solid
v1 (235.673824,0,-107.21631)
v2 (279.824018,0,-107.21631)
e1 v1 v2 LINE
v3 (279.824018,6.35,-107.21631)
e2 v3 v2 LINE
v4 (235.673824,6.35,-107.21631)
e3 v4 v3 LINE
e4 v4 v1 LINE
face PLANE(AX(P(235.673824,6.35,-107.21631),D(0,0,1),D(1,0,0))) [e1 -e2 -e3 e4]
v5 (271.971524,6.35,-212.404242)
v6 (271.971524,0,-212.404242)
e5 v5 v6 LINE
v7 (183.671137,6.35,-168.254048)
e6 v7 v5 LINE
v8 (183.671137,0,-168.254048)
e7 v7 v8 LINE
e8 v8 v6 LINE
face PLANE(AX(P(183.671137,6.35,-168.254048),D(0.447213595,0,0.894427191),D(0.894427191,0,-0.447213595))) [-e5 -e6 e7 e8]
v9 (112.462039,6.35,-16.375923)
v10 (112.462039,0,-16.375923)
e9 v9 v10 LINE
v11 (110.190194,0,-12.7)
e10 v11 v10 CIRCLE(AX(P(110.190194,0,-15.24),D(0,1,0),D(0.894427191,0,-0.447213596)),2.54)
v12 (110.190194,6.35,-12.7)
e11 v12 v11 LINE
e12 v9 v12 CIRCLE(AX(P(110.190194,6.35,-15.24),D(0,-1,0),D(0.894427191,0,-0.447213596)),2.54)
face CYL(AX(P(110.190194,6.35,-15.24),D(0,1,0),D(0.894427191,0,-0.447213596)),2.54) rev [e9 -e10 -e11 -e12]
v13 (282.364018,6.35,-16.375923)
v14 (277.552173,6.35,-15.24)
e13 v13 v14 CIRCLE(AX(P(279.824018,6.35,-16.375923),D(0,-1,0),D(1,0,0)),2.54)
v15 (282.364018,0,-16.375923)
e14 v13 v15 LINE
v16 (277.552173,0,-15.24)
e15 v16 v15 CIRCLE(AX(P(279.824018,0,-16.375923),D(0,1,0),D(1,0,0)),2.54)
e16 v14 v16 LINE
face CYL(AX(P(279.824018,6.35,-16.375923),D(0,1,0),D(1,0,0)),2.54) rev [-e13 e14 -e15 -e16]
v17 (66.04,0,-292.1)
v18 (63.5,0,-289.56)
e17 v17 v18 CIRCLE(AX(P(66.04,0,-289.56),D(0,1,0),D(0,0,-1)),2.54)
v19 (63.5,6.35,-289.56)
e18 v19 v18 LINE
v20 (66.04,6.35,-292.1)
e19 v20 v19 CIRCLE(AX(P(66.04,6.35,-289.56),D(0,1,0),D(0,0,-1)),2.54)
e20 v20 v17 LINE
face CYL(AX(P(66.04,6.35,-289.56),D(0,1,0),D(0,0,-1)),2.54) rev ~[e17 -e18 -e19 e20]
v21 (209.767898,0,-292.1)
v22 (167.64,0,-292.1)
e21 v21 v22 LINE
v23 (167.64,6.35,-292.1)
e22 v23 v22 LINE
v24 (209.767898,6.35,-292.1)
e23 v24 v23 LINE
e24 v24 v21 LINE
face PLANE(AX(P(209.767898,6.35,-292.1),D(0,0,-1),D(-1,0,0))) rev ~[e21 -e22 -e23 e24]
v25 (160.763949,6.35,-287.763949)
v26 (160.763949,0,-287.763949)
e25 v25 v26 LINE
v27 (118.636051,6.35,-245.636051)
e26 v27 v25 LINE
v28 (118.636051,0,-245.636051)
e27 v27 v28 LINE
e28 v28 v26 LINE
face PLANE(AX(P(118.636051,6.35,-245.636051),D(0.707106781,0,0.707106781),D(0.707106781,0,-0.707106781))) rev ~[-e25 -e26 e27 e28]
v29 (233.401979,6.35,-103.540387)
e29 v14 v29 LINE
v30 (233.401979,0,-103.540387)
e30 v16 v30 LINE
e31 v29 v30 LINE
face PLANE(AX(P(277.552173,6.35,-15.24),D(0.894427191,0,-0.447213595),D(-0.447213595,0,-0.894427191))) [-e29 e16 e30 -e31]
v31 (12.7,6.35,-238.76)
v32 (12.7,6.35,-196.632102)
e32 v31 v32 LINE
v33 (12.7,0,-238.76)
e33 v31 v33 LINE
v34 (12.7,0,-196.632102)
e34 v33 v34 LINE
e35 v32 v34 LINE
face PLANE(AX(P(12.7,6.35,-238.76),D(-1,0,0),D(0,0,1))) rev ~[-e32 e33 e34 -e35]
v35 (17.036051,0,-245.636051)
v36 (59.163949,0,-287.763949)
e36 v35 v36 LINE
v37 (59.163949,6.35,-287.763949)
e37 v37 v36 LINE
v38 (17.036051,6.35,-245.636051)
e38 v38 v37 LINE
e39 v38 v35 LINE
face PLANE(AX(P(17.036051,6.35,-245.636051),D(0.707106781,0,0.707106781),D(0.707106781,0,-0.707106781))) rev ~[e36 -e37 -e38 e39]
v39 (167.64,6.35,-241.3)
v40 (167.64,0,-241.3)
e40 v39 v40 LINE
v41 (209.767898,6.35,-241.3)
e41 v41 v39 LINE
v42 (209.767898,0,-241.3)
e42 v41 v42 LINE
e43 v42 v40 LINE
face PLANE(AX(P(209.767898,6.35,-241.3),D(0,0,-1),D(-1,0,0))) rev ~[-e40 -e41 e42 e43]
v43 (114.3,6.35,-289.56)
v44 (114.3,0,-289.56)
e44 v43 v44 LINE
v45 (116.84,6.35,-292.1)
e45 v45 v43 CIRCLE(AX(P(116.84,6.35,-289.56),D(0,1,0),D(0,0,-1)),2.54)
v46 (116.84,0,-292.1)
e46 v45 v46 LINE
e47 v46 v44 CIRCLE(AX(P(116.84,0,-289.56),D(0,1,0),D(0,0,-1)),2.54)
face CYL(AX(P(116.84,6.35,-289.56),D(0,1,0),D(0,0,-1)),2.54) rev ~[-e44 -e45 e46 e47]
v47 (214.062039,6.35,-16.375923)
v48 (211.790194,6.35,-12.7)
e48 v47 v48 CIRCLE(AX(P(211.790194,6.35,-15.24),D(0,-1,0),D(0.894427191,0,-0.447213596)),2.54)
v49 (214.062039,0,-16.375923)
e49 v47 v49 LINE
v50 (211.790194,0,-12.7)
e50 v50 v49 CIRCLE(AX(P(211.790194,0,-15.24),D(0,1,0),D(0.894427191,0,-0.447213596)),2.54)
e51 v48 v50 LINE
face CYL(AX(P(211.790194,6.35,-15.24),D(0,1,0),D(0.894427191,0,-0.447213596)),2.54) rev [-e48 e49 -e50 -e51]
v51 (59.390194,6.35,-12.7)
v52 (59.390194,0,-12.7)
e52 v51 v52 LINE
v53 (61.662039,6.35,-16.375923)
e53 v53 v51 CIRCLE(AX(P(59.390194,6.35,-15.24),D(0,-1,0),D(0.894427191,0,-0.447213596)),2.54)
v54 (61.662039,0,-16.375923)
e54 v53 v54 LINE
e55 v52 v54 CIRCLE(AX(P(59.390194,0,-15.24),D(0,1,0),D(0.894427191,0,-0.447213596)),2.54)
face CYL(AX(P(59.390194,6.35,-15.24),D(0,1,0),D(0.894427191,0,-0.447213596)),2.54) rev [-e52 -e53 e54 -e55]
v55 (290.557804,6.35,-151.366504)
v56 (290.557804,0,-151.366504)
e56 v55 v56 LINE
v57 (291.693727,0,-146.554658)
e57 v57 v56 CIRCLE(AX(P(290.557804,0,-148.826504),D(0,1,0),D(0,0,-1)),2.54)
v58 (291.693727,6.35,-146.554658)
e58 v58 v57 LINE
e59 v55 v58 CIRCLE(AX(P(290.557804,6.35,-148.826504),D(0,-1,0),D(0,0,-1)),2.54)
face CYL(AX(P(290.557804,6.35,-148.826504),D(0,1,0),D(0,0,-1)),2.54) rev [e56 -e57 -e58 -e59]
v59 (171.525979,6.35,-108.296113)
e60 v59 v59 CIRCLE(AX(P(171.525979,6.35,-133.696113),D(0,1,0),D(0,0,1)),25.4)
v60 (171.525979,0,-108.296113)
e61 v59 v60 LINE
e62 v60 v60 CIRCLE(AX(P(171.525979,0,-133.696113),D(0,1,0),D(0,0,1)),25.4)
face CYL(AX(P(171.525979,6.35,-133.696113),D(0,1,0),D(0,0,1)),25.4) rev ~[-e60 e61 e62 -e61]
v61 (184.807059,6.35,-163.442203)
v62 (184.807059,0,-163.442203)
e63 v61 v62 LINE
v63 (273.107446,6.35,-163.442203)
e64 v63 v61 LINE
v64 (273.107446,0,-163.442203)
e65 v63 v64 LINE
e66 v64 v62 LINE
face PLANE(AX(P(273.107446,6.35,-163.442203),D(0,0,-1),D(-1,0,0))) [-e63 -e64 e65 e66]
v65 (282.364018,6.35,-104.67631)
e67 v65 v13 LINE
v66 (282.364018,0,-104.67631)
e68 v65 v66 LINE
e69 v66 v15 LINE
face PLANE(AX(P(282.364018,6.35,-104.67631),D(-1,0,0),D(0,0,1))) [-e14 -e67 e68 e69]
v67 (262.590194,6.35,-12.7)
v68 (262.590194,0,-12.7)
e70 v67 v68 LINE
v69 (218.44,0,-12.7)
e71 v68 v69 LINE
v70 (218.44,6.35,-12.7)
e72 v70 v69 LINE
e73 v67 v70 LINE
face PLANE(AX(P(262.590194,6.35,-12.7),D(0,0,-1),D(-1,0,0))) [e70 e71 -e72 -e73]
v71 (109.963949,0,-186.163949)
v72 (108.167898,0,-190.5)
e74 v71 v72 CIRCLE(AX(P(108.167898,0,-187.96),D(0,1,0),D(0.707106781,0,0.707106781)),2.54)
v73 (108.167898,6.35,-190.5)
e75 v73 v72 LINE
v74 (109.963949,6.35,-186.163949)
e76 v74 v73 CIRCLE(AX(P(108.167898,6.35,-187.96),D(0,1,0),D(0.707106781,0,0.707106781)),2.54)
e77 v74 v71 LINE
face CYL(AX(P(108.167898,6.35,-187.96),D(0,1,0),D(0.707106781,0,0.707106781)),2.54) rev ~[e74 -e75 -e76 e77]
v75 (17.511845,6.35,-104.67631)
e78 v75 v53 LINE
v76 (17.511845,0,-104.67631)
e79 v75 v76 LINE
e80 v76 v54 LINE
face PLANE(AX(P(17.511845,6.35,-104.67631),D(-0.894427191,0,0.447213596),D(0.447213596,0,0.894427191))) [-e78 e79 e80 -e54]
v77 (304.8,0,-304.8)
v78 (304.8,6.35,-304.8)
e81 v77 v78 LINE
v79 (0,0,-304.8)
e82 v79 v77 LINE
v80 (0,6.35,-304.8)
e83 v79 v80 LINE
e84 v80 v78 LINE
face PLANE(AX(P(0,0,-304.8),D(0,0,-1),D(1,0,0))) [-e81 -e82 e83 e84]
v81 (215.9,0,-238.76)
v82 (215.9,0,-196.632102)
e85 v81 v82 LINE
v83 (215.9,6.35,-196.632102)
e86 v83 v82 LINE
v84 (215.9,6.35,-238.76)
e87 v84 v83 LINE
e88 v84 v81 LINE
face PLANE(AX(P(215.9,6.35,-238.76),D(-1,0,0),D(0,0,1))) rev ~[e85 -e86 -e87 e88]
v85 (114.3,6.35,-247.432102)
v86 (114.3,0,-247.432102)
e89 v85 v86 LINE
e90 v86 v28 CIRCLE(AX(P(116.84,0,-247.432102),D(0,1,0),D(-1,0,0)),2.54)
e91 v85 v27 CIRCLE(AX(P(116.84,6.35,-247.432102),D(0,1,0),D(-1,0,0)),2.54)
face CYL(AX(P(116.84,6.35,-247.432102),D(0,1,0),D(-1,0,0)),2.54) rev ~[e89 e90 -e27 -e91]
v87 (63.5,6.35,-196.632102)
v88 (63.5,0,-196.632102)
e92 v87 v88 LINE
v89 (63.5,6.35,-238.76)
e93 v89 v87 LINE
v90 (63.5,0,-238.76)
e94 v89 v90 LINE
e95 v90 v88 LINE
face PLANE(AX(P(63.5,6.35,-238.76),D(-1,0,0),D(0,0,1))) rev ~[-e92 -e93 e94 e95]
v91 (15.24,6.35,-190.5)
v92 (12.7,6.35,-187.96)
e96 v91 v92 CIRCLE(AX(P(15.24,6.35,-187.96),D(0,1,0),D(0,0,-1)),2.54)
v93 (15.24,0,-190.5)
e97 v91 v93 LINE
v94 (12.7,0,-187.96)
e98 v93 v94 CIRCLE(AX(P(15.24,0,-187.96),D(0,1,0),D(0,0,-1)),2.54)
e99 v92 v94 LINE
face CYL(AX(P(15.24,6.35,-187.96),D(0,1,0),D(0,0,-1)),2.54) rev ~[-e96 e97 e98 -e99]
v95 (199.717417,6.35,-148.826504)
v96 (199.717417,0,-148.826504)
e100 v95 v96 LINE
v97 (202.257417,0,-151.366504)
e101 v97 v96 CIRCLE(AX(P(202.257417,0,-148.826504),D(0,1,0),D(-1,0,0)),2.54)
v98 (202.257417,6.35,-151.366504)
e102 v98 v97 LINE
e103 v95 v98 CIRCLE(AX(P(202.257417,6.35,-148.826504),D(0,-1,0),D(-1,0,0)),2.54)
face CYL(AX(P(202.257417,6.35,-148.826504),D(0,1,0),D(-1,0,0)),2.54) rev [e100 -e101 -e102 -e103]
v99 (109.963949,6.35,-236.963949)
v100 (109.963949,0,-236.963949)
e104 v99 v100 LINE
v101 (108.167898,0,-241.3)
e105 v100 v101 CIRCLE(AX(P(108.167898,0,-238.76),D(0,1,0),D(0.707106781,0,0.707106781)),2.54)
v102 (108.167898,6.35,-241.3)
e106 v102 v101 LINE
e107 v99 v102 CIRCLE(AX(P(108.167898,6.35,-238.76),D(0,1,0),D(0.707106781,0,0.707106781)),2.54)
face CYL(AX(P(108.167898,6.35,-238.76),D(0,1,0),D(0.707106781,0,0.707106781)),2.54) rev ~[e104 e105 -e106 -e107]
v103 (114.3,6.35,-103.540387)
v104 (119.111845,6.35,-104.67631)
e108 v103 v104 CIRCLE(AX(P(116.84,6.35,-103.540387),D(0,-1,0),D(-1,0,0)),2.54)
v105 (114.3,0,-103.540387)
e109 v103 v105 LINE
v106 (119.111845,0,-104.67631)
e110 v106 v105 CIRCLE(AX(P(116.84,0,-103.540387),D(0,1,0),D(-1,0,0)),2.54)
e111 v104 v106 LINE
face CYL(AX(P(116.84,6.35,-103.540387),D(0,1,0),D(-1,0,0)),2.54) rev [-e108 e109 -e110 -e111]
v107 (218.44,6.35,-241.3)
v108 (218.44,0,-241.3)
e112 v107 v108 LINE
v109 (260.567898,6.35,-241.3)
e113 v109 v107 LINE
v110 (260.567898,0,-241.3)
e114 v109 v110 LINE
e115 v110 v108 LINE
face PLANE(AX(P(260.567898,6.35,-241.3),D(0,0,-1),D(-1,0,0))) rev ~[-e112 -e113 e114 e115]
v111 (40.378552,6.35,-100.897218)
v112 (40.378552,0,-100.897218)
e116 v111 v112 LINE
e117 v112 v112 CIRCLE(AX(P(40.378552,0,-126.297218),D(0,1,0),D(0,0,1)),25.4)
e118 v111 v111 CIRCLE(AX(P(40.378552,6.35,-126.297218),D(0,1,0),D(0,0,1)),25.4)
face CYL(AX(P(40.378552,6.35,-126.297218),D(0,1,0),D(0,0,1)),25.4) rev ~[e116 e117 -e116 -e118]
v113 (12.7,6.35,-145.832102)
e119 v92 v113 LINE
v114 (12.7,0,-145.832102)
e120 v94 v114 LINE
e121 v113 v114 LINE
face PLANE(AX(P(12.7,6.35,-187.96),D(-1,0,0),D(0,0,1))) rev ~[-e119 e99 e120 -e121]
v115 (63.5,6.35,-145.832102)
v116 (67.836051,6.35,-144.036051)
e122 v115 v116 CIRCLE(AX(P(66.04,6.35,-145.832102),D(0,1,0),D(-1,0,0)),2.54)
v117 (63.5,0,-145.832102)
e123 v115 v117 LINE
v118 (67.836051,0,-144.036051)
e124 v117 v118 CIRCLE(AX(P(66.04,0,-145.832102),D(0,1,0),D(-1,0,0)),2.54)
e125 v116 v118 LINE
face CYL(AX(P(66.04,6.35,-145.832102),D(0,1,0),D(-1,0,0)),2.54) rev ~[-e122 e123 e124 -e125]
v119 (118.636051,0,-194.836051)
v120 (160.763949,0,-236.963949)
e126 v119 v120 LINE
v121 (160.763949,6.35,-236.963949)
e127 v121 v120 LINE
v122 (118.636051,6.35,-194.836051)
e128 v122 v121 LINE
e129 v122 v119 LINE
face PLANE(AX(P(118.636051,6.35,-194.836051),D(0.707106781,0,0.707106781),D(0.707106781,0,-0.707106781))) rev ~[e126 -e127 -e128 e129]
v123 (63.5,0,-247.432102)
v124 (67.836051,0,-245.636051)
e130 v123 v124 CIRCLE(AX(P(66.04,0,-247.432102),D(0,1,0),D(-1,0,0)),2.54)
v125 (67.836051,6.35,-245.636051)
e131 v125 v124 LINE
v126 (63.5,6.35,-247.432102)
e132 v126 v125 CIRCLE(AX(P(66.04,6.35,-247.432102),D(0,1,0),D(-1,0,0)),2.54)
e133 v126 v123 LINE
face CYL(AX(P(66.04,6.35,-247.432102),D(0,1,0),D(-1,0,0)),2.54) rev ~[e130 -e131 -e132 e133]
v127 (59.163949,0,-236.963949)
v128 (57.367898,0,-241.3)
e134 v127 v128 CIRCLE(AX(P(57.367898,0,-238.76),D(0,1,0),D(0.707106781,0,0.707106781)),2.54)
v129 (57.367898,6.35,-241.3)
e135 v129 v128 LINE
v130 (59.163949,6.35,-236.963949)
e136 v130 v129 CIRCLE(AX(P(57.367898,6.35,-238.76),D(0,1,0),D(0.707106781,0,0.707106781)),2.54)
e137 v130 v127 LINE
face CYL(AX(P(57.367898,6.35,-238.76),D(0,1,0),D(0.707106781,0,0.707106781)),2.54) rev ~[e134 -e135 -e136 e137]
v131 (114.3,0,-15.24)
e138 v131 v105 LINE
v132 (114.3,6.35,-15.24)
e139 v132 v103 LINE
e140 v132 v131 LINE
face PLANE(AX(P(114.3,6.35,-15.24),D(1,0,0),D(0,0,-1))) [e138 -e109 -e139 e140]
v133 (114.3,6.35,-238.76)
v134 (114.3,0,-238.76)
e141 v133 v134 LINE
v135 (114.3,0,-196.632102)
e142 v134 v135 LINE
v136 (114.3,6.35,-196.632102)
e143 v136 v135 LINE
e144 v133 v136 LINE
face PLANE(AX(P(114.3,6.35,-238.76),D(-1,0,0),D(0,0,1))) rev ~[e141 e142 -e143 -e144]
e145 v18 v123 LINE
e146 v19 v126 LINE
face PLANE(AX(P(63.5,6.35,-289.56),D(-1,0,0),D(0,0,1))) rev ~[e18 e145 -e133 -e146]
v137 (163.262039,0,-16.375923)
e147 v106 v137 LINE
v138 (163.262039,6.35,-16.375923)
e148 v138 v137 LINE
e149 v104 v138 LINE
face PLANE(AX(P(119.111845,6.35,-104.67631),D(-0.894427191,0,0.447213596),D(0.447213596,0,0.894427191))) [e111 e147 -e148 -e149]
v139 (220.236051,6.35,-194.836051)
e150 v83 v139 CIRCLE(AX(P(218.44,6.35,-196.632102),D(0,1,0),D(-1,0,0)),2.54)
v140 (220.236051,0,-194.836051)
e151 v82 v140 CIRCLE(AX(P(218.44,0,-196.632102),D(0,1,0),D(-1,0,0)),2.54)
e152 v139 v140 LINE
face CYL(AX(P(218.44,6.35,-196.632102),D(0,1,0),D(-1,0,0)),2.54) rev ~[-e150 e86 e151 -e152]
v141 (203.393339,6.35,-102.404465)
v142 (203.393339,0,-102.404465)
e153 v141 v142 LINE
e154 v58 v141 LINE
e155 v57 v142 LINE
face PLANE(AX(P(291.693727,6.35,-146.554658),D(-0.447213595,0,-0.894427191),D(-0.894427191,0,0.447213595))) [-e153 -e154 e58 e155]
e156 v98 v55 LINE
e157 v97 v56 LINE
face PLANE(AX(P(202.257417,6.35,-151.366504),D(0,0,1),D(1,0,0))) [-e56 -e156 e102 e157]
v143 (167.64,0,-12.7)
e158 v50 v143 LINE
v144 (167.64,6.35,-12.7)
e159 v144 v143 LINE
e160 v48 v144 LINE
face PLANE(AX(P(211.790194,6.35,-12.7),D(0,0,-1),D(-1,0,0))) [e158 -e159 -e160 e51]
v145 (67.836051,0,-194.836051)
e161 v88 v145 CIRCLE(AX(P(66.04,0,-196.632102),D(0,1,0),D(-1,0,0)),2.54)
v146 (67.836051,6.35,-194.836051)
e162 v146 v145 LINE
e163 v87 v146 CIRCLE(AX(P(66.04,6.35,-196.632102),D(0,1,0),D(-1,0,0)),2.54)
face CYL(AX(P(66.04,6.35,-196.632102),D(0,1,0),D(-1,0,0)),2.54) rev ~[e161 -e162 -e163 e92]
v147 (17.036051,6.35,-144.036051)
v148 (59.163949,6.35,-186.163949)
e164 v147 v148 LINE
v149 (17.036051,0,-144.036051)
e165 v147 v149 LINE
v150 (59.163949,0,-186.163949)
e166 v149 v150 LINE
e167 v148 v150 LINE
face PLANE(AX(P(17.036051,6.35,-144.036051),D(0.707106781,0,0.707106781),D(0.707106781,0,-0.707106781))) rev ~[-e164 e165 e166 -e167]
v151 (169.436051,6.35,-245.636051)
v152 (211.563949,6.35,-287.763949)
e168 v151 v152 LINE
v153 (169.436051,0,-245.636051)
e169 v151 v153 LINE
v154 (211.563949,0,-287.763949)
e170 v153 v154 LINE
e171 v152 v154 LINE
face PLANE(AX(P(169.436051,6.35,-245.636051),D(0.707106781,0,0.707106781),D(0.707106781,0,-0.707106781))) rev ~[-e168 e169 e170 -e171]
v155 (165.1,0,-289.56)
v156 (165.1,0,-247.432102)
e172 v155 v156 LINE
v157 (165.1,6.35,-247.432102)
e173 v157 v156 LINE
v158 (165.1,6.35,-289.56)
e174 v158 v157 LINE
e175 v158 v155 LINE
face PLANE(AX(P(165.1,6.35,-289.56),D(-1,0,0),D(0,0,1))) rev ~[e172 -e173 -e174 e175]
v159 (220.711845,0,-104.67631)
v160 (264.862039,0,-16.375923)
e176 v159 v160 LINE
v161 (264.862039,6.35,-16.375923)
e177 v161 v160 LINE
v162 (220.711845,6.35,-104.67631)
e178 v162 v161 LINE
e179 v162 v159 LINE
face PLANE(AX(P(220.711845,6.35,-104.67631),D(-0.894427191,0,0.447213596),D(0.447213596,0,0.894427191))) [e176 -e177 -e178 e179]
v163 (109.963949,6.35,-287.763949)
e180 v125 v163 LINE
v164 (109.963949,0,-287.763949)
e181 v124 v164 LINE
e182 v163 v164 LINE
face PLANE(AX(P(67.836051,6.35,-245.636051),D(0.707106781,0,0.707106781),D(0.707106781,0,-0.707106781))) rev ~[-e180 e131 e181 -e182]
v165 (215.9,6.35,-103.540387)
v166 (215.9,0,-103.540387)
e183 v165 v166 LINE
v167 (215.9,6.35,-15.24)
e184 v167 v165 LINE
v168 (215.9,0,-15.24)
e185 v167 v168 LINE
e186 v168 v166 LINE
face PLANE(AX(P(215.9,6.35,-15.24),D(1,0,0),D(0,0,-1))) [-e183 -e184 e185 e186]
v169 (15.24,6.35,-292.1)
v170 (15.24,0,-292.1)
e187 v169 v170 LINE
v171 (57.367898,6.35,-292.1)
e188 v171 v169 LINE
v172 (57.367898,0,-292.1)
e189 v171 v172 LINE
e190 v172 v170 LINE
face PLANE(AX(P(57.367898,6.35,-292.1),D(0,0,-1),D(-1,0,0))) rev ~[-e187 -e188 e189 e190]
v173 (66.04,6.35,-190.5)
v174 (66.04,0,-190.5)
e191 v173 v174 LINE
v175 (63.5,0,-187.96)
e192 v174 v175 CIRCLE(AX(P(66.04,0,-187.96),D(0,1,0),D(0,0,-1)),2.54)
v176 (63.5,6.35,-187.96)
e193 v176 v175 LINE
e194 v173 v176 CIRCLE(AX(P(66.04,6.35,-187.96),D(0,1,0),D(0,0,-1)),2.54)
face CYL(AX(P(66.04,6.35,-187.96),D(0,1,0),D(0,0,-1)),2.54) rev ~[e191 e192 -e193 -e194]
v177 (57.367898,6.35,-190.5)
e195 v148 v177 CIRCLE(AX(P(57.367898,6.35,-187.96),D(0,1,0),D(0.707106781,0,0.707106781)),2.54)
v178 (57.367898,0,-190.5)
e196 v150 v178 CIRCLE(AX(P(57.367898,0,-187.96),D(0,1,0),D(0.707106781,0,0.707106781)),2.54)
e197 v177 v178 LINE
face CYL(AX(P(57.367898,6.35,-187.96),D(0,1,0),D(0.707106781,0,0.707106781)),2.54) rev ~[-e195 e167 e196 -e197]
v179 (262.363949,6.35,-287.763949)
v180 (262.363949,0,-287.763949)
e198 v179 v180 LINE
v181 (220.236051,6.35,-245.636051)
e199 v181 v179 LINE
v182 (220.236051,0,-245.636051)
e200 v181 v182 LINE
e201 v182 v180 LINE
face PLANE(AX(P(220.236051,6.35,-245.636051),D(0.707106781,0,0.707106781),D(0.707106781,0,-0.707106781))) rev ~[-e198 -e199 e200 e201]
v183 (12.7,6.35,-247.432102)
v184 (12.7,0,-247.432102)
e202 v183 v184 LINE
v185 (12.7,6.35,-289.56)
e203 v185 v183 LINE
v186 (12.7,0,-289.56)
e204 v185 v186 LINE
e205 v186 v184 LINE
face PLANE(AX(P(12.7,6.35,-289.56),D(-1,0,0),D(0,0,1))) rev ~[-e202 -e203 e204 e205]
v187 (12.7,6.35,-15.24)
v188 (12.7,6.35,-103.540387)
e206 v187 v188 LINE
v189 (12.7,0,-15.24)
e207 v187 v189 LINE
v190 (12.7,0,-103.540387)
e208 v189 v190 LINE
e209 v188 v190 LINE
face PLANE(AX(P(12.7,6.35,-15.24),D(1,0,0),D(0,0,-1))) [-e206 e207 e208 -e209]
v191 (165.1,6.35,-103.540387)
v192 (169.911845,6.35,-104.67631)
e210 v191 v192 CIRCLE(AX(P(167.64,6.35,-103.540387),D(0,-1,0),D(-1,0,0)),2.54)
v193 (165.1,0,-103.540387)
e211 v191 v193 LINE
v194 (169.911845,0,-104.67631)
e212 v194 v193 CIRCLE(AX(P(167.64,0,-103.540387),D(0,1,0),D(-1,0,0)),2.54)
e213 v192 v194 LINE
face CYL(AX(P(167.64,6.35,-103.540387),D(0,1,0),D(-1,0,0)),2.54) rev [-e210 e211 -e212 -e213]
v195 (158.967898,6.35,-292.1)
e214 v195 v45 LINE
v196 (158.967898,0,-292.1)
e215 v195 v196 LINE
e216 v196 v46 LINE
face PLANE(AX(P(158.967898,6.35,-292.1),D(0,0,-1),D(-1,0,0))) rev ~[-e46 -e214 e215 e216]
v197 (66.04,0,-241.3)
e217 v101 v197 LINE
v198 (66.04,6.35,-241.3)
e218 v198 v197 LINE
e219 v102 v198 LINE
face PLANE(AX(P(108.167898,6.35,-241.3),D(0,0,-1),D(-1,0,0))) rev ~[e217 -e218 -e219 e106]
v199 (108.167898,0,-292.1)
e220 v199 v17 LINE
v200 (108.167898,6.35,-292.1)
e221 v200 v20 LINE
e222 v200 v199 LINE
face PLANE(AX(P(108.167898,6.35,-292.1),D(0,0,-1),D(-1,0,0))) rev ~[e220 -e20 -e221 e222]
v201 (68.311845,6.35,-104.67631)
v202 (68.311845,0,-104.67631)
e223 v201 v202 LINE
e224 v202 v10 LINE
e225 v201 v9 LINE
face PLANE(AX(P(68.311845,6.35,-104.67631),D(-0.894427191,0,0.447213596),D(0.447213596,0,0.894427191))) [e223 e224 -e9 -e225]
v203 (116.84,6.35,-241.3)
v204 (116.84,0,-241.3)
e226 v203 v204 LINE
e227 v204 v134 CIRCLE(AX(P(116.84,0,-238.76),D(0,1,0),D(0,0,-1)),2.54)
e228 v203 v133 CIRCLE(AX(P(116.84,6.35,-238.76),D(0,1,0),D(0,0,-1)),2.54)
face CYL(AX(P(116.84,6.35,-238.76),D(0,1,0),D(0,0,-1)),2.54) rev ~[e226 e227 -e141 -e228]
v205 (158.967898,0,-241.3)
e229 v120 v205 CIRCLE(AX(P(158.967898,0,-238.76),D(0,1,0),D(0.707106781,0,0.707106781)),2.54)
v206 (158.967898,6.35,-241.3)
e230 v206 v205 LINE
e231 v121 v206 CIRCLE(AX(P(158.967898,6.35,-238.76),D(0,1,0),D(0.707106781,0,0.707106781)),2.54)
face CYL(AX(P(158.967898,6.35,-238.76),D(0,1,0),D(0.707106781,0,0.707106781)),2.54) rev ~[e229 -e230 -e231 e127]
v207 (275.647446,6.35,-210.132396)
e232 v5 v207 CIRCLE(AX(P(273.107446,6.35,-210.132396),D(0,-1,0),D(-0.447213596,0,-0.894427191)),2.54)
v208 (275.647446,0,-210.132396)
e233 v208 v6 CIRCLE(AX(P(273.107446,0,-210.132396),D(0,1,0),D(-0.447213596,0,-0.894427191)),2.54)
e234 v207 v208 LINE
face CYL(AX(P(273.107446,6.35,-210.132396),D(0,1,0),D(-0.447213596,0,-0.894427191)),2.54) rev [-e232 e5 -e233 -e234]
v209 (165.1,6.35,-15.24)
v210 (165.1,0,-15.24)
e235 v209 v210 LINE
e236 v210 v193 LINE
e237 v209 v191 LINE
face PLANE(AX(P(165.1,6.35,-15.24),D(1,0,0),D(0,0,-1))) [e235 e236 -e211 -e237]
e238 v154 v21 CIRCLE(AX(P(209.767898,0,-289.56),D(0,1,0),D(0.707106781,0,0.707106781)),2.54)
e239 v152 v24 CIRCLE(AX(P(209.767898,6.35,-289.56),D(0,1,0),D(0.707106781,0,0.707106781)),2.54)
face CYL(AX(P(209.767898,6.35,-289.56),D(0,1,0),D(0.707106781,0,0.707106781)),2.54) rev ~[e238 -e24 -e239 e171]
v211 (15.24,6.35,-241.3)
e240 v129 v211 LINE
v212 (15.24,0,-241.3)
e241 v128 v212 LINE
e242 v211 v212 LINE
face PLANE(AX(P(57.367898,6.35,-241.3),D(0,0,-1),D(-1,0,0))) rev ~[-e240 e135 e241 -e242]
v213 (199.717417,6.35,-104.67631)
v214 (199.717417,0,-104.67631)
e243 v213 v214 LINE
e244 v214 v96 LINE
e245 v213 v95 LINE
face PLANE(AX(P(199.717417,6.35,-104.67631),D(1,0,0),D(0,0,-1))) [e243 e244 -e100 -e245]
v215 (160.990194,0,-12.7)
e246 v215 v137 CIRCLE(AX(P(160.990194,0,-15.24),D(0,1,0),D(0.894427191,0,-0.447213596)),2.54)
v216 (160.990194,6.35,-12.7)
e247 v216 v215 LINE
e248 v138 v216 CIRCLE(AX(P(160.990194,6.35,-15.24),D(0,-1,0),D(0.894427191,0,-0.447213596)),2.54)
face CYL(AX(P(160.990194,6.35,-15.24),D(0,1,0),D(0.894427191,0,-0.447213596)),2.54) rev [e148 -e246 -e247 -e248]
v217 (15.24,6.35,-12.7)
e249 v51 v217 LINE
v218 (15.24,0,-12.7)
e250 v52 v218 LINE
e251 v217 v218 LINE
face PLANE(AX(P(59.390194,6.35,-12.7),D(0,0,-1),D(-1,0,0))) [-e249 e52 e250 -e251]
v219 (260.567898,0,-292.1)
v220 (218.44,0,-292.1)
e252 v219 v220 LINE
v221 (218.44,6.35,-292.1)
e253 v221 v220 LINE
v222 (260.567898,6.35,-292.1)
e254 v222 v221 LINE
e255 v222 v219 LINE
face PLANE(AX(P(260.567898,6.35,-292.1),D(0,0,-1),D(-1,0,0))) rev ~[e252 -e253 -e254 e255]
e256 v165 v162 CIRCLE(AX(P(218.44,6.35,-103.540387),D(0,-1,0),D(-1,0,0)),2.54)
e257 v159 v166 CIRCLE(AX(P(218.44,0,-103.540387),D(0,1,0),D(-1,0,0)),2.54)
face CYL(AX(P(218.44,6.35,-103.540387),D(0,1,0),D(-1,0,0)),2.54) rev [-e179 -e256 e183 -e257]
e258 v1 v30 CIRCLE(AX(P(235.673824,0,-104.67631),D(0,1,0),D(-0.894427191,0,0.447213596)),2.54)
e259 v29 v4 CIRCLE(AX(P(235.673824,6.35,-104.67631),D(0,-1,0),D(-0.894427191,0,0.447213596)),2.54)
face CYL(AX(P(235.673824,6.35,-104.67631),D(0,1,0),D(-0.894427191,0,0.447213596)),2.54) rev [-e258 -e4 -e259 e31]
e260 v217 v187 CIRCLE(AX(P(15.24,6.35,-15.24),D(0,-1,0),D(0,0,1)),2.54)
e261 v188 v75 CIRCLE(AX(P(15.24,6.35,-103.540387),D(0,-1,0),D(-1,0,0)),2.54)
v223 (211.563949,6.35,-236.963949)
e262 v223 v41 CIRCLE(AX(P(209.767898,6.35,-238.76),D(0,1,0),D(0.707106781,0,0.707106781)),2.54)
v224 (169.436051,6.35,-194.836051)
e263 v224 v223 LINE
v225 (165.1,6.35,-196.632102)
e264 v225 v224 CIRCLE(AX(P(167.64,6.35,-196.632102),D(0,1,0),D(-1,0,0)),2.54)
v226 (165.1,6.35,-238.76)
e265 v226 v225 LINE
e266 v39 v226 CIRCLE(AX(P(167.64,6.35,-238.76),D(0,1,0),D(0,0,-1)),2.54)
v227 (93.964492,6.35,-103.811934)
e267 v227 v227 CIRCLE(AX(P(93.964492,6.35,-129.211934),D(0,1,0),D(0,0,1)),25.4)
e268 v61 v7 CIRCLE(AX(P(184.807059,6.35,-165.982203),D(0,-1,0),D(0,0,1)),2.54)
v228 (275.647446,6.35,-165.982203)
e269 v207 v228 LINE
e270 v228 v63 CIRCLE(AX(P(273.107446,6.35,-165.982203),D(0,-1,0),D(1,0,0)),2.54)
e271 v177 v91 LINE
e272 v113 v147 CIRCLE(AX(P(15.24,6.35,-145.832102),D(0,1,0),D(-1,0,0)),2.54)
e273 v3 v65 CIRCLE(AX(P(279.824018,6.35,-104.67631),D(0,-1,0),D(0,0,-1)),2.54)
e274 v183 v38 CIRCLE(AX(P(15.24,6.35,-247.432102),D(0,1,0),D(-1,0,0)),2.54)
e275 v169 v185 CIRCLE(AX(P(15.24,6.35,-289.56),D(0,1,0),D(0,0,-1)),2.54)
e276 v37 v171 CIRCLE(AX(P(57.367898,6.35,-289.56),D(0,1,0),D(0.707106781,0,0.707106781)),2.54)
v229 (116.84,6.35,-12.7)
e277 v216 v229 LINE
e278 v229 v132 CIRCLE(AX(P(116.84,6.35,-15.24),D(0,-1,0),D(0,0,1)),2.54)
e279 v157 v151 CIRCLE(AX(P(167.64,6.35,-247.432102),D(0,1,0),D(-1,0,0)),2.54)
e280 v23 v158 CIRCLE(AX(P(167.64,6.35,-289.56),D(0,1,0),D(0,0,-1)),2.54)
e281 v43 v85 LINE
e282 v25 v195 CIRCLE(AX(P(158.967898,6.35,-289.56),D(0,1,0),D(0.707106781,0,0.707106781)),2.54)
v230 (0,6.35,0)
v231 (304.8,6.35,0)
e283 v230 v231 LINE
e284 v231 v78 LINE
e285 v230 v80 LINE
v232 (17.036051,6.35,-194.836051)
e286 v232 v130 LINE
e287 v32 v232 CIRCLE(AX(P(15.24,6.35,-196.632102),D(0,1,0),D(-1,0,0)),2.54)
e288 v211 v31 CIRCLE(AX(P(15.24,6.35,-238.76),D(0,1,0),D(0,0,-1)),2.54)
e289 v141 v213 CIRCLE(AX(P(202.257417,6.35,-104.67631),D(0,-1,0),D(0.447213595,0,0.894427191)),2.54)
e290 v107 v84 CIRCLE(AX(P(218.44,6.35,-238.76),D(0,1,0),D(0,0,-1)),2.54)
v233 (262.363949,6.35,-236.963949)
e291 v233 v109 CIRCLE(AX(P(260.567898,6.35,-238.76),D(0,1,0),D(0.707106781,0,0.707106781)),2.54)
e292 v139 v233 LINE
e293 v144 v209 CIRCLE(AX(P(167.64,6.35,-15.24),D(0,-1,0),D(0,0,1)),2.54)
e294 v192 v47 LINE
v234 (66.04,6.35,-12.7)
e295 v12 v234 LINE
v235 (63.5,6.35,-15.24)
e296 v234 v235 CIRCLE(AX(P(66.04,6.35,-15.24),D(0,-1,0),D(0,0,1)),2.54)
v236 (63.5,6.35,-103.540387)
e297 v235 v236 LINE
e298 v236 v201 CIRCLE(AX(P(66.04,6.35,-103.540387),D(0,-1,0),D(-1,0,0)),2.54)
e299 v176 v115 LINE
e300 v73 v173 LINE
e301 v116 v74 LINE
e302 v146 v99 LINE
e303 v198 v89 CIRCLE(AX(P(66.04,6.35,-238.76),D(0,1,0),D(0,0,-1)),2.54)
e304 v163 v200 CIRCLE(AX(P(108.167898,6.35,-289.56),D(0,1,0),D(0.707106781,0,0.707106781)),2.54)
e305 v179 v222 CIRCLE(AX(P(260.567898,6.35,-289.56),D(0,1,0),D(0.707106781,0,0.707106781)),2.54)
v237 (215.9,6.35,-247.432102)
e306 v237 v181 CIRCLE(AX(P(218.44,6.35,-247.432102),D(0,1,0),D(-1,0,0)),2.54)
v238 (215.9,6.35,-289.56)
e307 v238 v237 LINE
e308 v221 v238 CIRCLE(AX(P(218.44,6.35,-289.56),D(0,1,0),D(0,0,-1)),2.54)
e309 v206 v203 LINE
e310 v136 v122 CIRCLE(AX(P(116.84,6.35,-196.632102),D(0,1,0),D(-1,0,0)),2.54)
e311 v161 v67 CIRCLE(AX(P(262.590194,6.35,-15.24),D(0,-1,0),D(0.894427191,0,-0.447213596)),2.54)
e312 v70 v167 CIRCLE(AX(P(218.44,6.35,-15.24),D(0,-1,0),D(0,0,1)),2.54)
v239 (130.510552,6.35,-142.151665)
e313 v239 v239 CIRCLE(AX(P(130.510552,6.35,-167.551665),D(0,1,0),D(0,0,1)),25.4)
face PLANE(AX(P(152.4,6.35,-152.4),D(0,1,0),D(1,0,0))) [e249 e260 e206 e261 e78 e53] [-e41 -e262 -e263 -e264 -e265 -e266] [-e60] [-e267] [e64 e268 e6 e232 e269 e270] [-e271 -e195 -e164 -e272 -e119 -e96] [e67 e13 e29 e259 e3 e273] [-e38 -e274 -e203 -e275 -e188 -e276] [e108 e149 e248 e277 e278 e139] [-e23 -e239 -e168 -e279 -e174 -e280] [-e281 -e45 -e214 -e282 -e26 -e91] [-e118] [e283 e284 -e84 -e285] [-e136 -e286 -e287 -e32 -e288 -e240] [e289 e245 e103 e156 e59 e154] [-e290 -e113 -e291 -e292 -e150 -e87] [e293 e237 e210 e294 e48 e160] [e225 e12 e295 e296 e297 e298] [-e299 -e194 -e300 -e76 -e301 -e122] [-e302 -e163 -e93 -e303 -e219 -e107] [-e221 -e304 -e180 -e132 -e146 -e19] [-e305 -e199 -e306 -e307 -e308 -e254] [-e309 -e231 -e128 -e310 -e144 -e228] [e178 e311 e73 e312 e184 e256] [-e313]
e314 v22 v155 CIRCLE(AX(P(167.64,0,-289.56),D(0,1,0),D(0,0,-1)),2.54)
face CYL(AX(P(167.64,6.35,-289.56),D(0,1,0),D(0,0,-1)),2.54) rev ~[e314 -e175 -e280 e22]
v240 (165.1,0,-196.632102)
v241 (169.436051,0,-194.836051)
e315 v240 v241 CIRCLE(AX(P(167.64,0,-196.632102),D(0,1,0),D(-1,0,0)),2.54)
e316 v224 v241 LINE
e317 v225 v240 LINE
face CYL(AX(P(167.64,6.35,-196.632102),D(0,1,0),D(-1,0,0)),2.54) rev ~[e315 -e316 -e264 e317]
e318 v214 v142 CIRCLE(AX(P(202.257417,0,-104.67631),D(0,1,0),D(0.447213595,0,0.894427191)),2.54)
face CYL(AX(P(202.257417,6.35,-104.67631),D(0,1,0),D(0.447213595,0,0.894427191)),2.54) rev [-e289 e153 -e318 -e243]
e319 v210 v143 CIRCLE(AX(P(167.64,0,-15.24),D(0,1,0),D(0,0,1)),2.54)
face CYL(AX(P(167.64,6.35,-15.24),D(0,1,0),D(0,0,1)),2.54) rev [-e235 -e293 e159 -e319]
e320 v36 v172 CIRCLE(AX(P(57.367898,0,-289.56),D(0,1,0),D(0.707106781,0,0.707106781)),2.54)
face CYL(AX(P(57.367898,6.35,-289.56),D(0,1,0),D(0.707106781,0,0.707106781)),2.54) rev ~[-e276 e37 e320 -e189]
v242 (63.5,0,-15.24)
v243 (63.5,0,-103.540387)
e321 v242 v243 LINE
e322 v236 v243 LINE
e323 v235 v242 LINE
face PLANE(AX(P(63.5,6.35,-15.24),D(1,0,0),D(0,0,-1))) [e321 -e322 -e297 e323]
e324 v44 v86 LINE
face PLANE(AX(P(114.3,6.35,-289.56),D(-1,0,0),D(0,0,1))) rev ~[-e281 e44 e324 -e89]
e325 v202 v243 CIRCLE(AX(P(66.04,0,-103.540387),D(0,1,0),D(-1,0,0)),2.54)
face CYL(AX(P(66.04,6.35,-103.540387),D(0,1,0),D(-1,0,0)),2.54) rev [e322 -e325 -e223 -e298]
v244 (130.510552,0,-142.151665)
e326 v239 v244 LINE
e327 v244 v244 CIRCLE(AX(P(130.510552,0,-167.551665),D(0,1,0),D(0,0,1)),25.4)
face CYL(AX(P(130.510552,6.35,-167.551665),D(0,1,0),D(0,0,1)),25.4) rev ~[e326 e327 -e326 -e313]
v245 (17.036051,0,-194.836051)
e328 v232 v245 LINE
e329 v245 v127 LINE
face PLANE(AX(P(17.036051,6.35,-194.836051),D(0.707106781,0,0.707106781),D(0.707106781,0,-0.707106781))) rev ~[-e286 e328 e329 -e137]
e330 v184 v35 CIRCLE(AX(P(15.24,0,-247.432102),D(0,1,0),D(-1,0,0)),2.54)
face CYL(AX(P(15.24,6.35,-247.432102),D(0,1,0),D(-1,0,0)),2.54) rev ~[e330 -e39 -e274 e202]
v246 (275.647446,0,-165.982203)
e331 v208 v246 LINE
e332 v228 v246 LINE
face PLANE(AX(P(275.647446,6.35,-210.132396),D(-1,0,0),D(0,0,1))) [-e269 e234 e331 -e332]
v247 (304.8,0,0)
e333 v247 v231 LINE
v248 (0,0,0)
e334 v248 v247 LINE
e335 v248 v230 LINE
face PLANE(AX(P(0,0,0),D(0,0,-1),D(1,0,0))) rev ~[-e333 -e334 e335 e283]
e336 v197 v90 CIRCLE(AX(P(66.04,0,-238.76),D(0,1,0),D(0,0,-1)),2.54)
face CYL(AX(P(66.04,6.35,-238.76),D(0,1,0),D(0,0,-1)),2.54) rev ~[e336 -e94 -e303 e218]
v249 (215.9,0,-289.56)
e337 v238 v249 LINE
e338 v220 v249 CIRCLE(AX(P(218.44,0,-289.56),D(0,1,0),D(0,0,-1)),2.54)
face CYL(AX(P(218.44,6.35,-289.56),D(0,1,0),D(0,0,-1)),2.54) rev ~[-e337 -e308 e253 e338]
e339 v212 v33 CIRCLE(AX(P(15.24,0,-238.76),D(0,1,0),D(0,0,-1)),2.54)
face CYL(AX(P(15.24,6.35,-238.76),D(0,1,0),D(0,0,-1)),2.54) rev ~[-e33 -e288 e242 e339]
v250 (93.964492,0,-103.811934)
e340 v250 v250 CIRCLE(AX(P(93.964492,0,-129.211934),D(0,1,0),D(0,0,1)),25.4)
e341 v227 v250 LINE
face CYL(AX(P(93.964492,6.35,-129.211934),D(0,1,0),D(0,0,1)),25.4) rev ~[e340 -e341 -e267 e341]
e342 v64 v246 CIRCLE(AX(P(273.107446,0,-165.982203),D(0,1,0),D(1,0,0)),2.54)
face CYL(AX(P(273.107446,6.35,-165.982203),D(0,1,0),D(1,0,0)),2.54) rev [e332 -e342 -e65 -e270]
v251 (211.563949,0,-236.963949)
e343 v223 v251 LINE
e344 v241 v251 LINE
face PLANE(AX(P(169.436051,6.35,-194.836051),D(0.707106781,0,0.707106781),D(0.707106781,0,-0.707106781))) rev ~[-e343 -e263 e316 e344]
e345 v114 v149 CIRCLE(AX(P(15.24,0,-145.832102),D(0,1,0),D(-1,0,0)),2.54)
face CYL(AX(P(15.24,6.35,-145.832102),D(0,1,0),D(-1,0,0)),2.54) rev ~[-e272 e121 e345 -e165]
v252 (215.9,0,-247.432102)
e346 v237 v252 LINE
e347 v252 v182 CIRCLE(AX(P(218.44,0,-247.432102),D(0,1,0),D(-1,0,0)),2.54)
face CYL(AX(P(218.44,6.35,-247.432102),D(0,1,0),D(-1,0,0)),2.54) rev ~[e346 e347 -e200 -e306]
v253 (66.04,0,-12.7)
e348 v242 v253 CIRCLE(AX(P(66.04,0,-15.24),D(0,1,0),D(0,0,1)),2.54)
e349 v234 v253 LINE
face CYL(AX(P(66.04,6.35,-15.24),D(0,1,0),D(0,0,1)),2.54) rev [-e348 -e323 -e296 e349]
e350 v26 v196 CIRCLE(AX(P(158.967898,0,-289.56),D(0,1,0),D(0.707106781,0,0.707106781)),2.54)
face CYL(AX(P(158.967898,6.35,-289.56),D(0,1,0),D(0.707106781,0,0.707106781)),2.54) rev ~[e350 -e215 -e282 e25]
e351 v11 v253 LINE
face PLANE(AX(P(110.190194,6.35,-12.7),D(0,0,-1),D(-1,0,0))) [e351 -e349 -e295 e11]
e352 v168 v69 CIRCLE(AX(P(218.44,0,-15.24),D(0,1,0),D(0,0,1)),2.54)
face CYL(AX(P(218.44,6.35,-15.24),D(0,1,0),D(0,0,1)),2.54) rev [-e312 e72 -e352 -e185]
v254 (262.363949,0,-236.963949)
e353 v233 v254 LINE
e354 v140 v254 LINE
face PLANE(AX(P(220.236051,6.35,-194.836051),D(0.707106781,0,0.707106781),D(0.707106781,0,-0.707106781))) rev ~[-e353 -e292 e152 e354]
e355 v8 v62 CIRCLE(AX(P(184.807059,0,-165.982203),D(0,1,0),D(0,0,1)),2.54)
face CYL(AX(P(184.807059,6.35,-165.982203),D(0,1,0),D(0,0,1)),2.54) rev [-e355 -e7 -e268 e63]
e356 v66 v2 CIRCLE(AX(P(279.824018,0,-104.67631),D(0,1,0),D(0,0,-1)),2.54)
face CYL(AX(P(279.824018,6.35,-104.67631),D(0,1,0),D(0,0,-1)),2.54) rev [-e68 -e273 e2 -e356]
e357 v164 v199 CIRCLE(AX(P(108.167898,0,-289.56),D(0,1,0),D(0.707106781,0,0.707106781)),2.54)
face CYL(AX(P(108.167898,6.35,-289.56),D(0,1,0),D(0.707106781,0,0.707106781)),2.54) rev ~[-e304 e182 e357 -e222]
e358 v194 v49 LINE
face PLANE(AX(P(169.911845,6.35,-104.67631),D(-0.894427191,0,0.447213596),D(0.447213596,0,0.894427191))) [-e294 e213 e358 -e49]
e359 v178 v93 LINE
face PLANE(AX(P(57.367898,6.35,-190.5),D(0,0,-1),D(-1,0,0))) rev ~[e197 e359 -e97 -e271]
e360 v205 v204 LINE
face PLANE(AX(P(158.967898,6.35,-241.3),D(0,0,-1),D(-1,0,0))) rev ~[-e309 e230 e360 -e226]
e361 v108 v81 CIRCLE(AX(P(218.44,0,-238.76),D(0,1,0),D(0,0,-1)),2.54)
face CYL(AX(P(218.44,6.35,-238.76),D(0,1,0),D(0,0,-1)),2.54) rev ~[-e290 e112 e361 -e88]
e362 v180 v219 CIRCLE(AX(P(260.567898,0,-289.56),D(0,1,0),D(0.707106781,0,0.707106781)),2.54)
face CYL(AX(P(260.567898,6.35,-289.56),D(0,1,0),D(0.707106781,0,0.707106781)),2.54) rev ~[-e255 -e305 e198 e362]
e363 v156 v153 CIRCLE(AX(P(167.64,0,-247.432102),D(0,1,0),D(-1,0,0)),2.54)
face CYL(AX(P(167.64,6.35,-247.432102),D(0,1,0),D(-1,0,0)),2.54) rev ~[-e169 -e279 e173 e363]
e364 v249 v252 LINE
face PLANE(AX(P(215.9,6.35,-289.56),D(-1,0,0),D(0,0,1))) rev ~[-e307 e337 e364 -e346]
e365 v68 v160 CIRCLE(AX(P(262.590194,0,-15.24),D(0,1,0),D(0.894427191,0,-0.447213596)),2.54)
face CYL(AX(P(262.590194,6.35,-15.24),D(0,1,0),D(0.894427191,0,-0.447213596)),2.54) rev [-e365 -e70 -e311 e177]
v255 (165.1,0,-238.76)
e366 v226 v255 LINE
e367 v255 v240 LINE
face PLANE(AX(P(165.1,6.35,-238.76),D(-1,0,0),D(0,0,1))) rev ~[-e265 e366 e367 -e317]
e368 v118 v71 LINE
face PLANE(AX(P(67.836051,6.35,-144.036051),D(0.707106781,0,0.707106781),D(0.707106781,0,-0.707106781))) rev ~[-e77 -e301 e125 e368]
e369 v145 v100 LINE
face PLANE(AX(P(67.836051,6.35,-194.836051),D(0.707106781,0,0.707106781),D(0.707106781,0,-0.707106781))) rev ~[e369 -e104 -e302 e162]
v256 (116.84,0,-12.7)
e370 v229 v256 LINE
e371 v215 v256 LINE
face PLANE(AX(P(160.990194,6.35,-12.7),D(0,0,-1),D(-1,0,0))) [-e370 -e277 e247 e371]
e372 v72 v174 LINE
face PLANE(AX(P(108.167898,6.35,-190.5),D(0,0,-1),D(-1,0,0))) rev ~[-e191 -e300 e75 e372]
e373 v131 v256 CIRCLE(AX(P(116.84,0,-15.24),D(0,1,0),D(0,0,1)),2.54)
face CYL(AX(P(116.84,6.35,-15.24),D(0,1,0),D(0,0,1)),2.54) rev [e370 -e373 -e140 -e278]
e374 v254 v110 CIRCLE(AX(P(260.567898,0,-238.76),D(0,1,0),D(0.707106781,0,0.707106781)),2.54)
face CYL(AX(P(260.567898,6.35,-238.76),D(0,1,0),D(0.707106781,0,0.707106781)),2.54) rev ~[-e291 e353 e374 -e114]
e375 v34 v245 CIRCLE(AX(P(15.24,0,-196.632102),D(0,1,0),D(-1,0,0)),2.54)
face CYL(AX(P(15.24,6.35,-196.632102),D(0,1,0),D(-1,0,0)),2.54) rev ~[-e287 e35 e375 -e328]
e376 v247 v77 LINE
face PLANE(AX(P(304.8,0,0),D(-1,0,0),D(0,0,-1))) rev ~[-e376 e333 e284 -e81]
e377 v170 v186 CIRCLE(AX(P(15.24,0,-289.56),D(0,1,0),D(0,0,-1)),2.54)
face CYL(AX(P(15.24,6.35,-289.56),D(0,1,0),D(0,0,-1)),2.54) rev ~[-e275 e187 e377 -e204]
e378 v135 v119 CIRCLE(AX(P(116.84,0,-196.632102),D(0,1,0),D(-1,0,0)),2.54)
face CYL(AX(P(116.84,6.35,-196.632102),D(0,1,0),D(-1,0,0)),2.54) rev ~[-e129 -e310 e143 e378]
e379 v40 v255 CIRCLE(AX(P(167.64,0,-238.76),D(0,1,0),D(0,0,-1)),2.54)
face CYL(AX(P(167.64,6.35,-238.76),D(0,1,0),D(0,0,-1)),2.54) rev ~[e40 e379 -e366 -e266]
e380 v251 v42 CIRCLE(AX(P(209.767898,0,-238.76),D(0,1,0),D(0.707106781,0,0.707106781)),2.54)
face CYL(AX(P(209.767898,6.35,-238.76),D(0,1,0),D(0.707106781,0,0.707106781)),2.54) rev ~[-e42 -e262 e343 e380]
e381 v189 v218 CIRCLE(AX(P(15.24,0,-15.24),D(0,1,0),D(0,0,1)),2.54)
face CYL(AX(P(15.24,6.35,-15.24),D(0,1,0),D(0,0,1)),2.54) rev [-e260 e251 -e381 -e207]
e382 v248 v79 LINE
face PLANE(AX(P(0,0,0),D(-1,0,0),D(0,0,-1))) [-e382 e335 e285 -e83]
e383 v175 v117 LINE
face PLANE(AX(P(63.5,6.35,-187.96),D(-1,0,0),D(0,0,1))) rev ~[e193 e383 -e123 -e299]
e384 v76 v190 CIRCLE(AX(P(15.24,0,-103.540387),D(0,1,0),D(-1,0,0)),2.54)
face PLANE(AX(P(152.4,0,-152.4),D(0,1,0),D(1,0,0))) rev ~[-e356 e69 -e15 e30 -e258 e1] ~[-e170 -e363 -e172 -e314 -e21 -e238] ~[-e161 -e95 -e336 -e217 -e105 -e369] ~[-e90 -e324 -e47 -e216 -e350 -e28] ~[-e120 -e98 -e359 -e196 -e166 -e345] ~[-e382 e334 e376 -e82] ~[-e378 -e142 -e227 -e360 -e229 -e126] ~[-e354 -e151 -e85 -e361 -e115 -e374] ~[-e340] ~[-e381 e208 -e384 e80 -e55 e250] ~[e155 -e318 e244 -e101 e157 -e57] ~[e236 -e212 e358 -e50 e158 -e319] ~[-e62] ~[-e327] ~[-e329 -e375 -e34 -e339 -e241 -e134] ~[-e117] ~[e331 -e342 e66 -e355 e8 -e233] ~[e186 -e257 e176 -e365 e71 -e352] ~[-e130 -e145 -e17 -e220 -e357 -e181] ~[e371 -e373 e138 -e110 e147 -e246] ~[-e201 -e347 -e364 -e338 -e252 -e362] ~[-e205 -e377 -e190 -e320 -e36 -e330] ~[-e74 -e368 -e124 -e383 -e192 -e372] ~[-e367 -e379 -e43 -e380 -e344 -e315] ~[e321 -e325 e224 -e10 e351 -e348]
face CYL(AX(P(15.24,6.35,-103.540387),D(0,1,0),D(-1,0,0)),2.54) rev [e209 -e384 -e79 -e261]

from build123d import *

# Parameters (mm, degrees)
SKETCH1_W           = 304.8
SKETCH1_H           = 304.8
BOSS_EXTRUDE1_DEPTH = 6.35
SKETCH2_R           = 25.4
CUT_EXTRUDE2_DEPTH  = 432.099063441


with BuildPart() as part:
    # Sketch1 → Boss-Extrude1 (new body)
    with BuildSketch(Plane(origin=(0, 0, 0), x_dir=(1, 0, 0), z_dir=(0, 1, 0))):
        with Locations((152.4, 152.4)):
            Rectangle(SKETCH1_W, SKETCH1_H)
    extrude(amount=BOSS_EXTRUDE1_DEPTH)

    # Sketch2 → Cut-Extrude2 (cut, through all)
    with BuildSketch(Plane(origin=(0, 6.35, 0), x_dir=(1, 0, 0), z_dir=(0, 1, 0))):
        with Locations(Location((40.378551944, 126.297217899, 0), (0, 0, 270))):
            Circle(SKETCH2_R)
        with Locations(Location((93.964492013, 129.211934304, 0), (0, 0, 270))):
            Circle(SKETCH2_R)
        with Locations(Location((130.510551558, 167.551665483, 0), (0, 0, 270))):
            Circle(SKETCH2_R)
        with Locations(Location((171.52597858, 133.696113389, 0), (0, 0, 270))):
            Circle(SKETCH2_R)
        with BuildLine():
            Line((12.7, 289.56), (12.7, 247.432102448))
            ThreePointArc((12.7, 247.432102448), (14.267984082, 245.085448436), (17.036051224, 245.636051224))
            Line((17.036051224, 245.636051224), (59.163948776, 287.763948776))
            ThreePointArc((59.163948776, 287.763948776), (59.714551564, 290.532015918), (57.367897552, 292.1))
            Line((57.367897552, 292.1), (15.24, 292.1))
            ThreePointArc((15.24, 292.1), (13.443948776, 291.356051224), (12.7, 289.56))
        make_face()
        with BuildLine():
            Line((67.836051224, 245.636051224), (109.963948776, 287.763948776))
            ThreePointArc((109.963948776, 287.763948776), (110.514551564, 290.532015918), (108.167897552, 292.1))
            Line((108.167897552, 292.1), (66.04, 292.1))
            ThreePointArc((66.04, 292.1), (64.243948776, 291.356051224), (63.5, 289.56))
            Line((63.5, 289.56), (63.5, 247.432102448))
            ThreePointArc((63.5, 247.432102448), (65.067984082, 245.085448436), (67.836051224, 245.636051224))
        make_face()
        with BuildLine():
            Line((118.636051224, 245.636051224), (160.763948776, 287.763948776))
            ThreePointArc((160.763948776, 287.763948776), (161.314551564, 290.532015918), (158.967897552, 292.1))
            Line((158.967897552, 292.1), (116.84, 292.1))
            ThreePointArc((116.84, 292.1), (115.043948776, 291.356051224), (114.3, 289.56))
            Line((114.3, 289.56), (114.3, 247.432102448))
            ThreePointArc((114.3, 247.432102448), (115.867984082, 245.085448436), (118.636051224, 245.636051224))
        make_face()
        with BuildLine():
            Line((169.436051224, 245.636051224), (211.563948776, 287.763948776))
            ThreePointArc((211.563948776, 287.763948776), (212.114551564, 290.532015918), (209.767897552, 292.1))
            Line((209.767897552, 292.1), (167.64, 292.1))
            ThreePointArc((167.64, 292.1), (165.843948776, 291.356051224), (165.1, 289.56))
            Line((165.1, 289.56), (165.1, 247.432102448))
            ThreePointArc((165.1, 247.432102448), (166.667984082, 245.085448436), (169.436051224, 245.636051224))
        make_face()
        with BuildLine():
            Line((220.236051224, 245.636051224), (262.363948776, 287.763948776))
            ThreePointArc((262.363948776, 287.763948776), (262.914551564, 290.532015918), (260.567897552, 292.1))
            Line((260.567897552, 292.1), (218.44, 292.1))
            ThreePointArc((218.44, 292.1), (216.643948776, 291.356051224), (215.9, 289.56))
            Line((215.9, 289.56), (215.9, 247.432102448))
            ThreePointArc((215.9, 247.432102448), (217.467984082, 245.085448436), (220.236051224, 245.636051224))
        make_face()
        with BuildLine():
            Line((67.836051224, 194.836051224), (109.963948776, 236.963948776))
            ThreePointArc((109.963948776, 236.963948776), (110.514551564, 239.732015918), (108.167897552, 241.3))
            Line((108.167897552, 241.3), (66.04, 241.3))
            ThreePointArc((66.04, 241.3), (64.243948776, 240.556051224), (63.5, 238.76))
            Line((63.5, 238.76), (63.5, 196.632102448))
            ThreePointArc((63.5, 196.632102448), (65.067984082, 194.285448436), (67.836051224, 194.836051224))
        make_face()
        with BuildLine():
            Line((118.636051224, 194.836051224), (160.763948776, 236.963948776))
            ThreePointArc((160.763948776, 236.963948776), (161.314551564, 239.732015918), (158.967897552, 241.3))
            Line((158.967897552, 241.3), (116.84, 241.3))
            ThreePointArc((116.84, 241.3), (115.043948776, 240.556051224), (114.3, 238.76))
            Line((114.3, 238.76), (114.3, 196.632102448))
            ThreePointArc((114.3, 196.632102448), (115.867984082, 194.285448436), (118.636051224, 194.836051224))
        make_face()
        with BuildLine():
            Line((169.436051224, 194.836051224), (211.563948776, 236.963948776))
            ThreePointArc((211.563948776, 236.963948776), (212.114551564, 239.732015918), (209.767897552, 241.3))
            Line((209.767897552, 241.3), (167.64, 241.3))
            ThreePointArc((167.64, 241.3), (165.843948776, 240.556051224), (165.1, 238.76))
            Line((165.1, 238.76), (165.1, 196.632102448))
            ThreePointArc((165.1, 196.632102448), (166.667984082, 194.285448436), (169.436051224, 194.836051224))
        make_face()
        with BuildLine():
            Line((220.236051224, 194.836051224), (262.363948776, 236.963948776))
            ThreePointArc((262.363948776, 236.963948776), (262.914551564, 239.732015918), (260.567897552, 241.3))
            Line((260.567897552, 241.3), (218.44, 241.3))
            ThreePointArc((218.44, 241.3), (216.643948776, 240.556051224), (215.9, 238.76))
            Line((215.9, 238.76), (215.9, 196.632102448))
            ThreePointArc((215.9, 196.632102448), (217.467984082, 194.285448436), (220.236051224, 194.836051224))
        make_face()
        with BuildLine():
            Line((17.036051224, 194.836051224), (59.163948776, 236.963948776))
            ThreePointArc((59.163948776, 236.963948776), (59.714551564, 239.732015918), (57.367897552, 241.3))
            Line((57.367897552, 241.3), (15.24, 241.3))
            ThreePointArc((15.24, 241.3), (13.443948776, 240.556051224), (12.7, 238.76))
            Line((12.7, 238.76), (12.7, 196.632102448))
            ThreePointArc((12.7, 196.632102448), (14.267984082, 194.285448436), (17.036051224, 194.836051224))
        make_face()
        with BuildLine():
            Line((17.036051224, 144.036051224), (59.163948776, 186.163948776))
            ThreePointArc((59.163948776, 186.163948776), (59.714551564, 188.932015918), (57.367897552, 190.5))
            Line((57.367897552, 190.5), (15.24, 190.5))
            ThreePointArc((15.24, 190.5), (13.443948776, 189.756051224), (12.7, 187.96))
            Line((12.7, 187.96), (12.7, 145.832102448))
            ThreePointArc((12.7, 145.832102448), (14.267984082, 143.485448436), (17.036051224, 144.036051224))
        make_face()
        with BuildLine():
            Line((67.836051224, 144.036051224), (109.963948776, 186.163948776))
            ThreePointArc((109.963948776, 186.163948776), (110.514551564, 188.932015918), (108.167897552, 190.5))
            Line((108.167897552, 190.5), (66.04, 190.5))
            ThreePointArc((66.04, 190.5), (64.243948776, 189.756051224), (63.5, 187.96))
            Line((63.5, 187.96), (63.5, 145.832102448))
            ThreePointArc((63.5, 145.832102448), (65.067984082, 143.485448436), (67.836051224, 144.036051224))
        make_face()
        with BuildLine():
            Line((12.7, 15.24), (12.7, 103.540387337))
            ThreePointArc((12.7, 103.540387337), (14.656427582, 106.01243977), (17.511845065, 104.67630987))
            Line((17.511845065, 104.67630987), (61.662038734, 16.375922533))
            ThreePointArc((61.662038734, 16.375922533), (61.550846722, 13.904642975), (59.390193669, 12.7))
            Line((59.390193669, 12.7), (15.24, 12.7))
            ThreePointArc((15.24, 12.7), (13.443948776, 13.443948776), (12.7, 15.24))
        make_face()
        with BuildLine():
            Line((68.311845065, 104.67630987), (112.462038734, 16.375922533))
            ThreePointArc((112.462038734, 16.375922533), (112.350846722, 13.904642975), (110.190193669, 12.7))
            Line((110.190193669, 12.7), (66.04, 12.7))
            ThreePointArc((66.04, 12.7), (64.243948776, 13.443948776), (63.5, 15.24))
            Line((63.5, 15.24), (63.5, 103.540387337))
            ThreePointArc((63.5, 103.540387337), (65.456427582, 106.01243977), (68.311845065, 104.67630987))
        make_face()
        with BuildLine():
            Line((119.111845065, 104.67630987), (163.262038734, 16.375922533))
            ThreePointArc((163.262038734, 16.375922533), (163.150846722, 13.904642975), (160.990193669, 12.7))
            Line((160.990193669, 12.7), (116.84, 12.7))
            ThreePointArc((116.84, 12.7), (115.043948776, 13.443948776), (114.3, 15.24))
            Line((114.3, 15.24), (114.3, 103.540387337))
            ThreePointArc((114.3, 103.540387337), (116.256427582, 106.01243977), (119.111845065, 104.67630987))
        make_face()
        with BuildLine():
            Line((169.911845065, 104.67630987), (214.062038734, 16.375922533))
            ThreePointArc((214.062038734, 16.375922533), (213.950846722, 13.904642975), (211.790193669, 12.7))
            Line((211.790193669, 12.7), (167.64, 12.7))
            ThreePointArc((167.64, 12.7), (165.843948776, 13.443948776), (165.1, 15.24))
            Line((165.1, 15.24), (165.1, 103.540387337))
            ThreePointArc((165.1, 103.540387337), (167.056427582, 106.01243977), (169.911845065, 104.67630987))
        make_face()
        with BuildLine():
            Line((220.711845065, 104.67630987), (264.862038734, 16.375922533))
            ThreePointArc((264.862038734, 16.375922533), (264.750846722, 13.904642975), (262.590193669, 12.7))
            Line((262.590193669, 12.7), (218.44, 12.7))
            ThreePointArc((218.44, 12.7), (216.643948776, 13.443948776), (215.9, 15.24))
            Line((215.9, 15.24), (215.9, 103.540387337))
            ThreePointArc((215.9, 103.540387337), (217.856427582, 106.01243977), (220.711845065, 104.67630987))
        make_face()
        with BuildLine():
            Line((277.552172751, 15.24), (233.401979083, 103.540387337))
            ThreePointArc((233.401979083, 103.540387337), (233.513171095, 106.011666895), (235.673824148, 107.21630987))
            Line((235.673824148, 107.21630987), (279.824017817, 107.21630987))
            ThreePointArc((279.824017817, 107.21630987), (281.620069041, 106.472361094), (282.364017817, 104.67630987))
            Line((282.364017817, 104.67630987), (282.364017817, 16.375922533))
            ThreePointArc((282.364017817, 16.375922533), (280.407590235, 13.903870099), (277.552172751, 15.24))
        make_face()
        with BuildLine():
            Line((291.693726792, 146.554658473), (203.393339455, 102.404464805))
            ThreePointArc((203.393339455, 102.404464805), (200.922059898, 102.515656817), (199.717416922, 104.67630987))
            Line((199.717416922, 104.67630987), (199.717416922, 148.826503538))
            ThreePointArc((199.717416922, 148.826503538), (200.461365698, 150.622554763), (202.257416922, 151.366503538))
            Line((202.257416922, 151.366503538), (290.55780426, 151.366503538))
            ThreePointArc((290.55780426, 151.366503538), (293.029856693, 149.410075956), (291.693726792, 146.554658473))
        make_face()
        with BuildLine():
            Line((183.6711366, 168.254047869), (271.971523937, 212.404241537))
            ThreePointArc((271.971523937, 212.404241537), (274.442803495, 212.293049525), (275.64744647, 210.132396472))
            Line((275.64744647, 210.132396472), (275.64744647, 165.982202803))
            ThreePointArc((275.64744647, 165.982202803), (274.903497694, 164.186151579), (273.10744647, 163.442202803))
            Line((273.10744647, 163.442202803), (184.807059133, 163.442202803))
            ThreePointArc((184.807059133, 163.442202803), (182.335006699, 165.398630385), (183.6711366, 168.254047869))
        make_face()
    extrude(amount=-CUT_EXTRUDE2_DEPTH, mode=Mode.SUBTRACT)


solid = part.part
